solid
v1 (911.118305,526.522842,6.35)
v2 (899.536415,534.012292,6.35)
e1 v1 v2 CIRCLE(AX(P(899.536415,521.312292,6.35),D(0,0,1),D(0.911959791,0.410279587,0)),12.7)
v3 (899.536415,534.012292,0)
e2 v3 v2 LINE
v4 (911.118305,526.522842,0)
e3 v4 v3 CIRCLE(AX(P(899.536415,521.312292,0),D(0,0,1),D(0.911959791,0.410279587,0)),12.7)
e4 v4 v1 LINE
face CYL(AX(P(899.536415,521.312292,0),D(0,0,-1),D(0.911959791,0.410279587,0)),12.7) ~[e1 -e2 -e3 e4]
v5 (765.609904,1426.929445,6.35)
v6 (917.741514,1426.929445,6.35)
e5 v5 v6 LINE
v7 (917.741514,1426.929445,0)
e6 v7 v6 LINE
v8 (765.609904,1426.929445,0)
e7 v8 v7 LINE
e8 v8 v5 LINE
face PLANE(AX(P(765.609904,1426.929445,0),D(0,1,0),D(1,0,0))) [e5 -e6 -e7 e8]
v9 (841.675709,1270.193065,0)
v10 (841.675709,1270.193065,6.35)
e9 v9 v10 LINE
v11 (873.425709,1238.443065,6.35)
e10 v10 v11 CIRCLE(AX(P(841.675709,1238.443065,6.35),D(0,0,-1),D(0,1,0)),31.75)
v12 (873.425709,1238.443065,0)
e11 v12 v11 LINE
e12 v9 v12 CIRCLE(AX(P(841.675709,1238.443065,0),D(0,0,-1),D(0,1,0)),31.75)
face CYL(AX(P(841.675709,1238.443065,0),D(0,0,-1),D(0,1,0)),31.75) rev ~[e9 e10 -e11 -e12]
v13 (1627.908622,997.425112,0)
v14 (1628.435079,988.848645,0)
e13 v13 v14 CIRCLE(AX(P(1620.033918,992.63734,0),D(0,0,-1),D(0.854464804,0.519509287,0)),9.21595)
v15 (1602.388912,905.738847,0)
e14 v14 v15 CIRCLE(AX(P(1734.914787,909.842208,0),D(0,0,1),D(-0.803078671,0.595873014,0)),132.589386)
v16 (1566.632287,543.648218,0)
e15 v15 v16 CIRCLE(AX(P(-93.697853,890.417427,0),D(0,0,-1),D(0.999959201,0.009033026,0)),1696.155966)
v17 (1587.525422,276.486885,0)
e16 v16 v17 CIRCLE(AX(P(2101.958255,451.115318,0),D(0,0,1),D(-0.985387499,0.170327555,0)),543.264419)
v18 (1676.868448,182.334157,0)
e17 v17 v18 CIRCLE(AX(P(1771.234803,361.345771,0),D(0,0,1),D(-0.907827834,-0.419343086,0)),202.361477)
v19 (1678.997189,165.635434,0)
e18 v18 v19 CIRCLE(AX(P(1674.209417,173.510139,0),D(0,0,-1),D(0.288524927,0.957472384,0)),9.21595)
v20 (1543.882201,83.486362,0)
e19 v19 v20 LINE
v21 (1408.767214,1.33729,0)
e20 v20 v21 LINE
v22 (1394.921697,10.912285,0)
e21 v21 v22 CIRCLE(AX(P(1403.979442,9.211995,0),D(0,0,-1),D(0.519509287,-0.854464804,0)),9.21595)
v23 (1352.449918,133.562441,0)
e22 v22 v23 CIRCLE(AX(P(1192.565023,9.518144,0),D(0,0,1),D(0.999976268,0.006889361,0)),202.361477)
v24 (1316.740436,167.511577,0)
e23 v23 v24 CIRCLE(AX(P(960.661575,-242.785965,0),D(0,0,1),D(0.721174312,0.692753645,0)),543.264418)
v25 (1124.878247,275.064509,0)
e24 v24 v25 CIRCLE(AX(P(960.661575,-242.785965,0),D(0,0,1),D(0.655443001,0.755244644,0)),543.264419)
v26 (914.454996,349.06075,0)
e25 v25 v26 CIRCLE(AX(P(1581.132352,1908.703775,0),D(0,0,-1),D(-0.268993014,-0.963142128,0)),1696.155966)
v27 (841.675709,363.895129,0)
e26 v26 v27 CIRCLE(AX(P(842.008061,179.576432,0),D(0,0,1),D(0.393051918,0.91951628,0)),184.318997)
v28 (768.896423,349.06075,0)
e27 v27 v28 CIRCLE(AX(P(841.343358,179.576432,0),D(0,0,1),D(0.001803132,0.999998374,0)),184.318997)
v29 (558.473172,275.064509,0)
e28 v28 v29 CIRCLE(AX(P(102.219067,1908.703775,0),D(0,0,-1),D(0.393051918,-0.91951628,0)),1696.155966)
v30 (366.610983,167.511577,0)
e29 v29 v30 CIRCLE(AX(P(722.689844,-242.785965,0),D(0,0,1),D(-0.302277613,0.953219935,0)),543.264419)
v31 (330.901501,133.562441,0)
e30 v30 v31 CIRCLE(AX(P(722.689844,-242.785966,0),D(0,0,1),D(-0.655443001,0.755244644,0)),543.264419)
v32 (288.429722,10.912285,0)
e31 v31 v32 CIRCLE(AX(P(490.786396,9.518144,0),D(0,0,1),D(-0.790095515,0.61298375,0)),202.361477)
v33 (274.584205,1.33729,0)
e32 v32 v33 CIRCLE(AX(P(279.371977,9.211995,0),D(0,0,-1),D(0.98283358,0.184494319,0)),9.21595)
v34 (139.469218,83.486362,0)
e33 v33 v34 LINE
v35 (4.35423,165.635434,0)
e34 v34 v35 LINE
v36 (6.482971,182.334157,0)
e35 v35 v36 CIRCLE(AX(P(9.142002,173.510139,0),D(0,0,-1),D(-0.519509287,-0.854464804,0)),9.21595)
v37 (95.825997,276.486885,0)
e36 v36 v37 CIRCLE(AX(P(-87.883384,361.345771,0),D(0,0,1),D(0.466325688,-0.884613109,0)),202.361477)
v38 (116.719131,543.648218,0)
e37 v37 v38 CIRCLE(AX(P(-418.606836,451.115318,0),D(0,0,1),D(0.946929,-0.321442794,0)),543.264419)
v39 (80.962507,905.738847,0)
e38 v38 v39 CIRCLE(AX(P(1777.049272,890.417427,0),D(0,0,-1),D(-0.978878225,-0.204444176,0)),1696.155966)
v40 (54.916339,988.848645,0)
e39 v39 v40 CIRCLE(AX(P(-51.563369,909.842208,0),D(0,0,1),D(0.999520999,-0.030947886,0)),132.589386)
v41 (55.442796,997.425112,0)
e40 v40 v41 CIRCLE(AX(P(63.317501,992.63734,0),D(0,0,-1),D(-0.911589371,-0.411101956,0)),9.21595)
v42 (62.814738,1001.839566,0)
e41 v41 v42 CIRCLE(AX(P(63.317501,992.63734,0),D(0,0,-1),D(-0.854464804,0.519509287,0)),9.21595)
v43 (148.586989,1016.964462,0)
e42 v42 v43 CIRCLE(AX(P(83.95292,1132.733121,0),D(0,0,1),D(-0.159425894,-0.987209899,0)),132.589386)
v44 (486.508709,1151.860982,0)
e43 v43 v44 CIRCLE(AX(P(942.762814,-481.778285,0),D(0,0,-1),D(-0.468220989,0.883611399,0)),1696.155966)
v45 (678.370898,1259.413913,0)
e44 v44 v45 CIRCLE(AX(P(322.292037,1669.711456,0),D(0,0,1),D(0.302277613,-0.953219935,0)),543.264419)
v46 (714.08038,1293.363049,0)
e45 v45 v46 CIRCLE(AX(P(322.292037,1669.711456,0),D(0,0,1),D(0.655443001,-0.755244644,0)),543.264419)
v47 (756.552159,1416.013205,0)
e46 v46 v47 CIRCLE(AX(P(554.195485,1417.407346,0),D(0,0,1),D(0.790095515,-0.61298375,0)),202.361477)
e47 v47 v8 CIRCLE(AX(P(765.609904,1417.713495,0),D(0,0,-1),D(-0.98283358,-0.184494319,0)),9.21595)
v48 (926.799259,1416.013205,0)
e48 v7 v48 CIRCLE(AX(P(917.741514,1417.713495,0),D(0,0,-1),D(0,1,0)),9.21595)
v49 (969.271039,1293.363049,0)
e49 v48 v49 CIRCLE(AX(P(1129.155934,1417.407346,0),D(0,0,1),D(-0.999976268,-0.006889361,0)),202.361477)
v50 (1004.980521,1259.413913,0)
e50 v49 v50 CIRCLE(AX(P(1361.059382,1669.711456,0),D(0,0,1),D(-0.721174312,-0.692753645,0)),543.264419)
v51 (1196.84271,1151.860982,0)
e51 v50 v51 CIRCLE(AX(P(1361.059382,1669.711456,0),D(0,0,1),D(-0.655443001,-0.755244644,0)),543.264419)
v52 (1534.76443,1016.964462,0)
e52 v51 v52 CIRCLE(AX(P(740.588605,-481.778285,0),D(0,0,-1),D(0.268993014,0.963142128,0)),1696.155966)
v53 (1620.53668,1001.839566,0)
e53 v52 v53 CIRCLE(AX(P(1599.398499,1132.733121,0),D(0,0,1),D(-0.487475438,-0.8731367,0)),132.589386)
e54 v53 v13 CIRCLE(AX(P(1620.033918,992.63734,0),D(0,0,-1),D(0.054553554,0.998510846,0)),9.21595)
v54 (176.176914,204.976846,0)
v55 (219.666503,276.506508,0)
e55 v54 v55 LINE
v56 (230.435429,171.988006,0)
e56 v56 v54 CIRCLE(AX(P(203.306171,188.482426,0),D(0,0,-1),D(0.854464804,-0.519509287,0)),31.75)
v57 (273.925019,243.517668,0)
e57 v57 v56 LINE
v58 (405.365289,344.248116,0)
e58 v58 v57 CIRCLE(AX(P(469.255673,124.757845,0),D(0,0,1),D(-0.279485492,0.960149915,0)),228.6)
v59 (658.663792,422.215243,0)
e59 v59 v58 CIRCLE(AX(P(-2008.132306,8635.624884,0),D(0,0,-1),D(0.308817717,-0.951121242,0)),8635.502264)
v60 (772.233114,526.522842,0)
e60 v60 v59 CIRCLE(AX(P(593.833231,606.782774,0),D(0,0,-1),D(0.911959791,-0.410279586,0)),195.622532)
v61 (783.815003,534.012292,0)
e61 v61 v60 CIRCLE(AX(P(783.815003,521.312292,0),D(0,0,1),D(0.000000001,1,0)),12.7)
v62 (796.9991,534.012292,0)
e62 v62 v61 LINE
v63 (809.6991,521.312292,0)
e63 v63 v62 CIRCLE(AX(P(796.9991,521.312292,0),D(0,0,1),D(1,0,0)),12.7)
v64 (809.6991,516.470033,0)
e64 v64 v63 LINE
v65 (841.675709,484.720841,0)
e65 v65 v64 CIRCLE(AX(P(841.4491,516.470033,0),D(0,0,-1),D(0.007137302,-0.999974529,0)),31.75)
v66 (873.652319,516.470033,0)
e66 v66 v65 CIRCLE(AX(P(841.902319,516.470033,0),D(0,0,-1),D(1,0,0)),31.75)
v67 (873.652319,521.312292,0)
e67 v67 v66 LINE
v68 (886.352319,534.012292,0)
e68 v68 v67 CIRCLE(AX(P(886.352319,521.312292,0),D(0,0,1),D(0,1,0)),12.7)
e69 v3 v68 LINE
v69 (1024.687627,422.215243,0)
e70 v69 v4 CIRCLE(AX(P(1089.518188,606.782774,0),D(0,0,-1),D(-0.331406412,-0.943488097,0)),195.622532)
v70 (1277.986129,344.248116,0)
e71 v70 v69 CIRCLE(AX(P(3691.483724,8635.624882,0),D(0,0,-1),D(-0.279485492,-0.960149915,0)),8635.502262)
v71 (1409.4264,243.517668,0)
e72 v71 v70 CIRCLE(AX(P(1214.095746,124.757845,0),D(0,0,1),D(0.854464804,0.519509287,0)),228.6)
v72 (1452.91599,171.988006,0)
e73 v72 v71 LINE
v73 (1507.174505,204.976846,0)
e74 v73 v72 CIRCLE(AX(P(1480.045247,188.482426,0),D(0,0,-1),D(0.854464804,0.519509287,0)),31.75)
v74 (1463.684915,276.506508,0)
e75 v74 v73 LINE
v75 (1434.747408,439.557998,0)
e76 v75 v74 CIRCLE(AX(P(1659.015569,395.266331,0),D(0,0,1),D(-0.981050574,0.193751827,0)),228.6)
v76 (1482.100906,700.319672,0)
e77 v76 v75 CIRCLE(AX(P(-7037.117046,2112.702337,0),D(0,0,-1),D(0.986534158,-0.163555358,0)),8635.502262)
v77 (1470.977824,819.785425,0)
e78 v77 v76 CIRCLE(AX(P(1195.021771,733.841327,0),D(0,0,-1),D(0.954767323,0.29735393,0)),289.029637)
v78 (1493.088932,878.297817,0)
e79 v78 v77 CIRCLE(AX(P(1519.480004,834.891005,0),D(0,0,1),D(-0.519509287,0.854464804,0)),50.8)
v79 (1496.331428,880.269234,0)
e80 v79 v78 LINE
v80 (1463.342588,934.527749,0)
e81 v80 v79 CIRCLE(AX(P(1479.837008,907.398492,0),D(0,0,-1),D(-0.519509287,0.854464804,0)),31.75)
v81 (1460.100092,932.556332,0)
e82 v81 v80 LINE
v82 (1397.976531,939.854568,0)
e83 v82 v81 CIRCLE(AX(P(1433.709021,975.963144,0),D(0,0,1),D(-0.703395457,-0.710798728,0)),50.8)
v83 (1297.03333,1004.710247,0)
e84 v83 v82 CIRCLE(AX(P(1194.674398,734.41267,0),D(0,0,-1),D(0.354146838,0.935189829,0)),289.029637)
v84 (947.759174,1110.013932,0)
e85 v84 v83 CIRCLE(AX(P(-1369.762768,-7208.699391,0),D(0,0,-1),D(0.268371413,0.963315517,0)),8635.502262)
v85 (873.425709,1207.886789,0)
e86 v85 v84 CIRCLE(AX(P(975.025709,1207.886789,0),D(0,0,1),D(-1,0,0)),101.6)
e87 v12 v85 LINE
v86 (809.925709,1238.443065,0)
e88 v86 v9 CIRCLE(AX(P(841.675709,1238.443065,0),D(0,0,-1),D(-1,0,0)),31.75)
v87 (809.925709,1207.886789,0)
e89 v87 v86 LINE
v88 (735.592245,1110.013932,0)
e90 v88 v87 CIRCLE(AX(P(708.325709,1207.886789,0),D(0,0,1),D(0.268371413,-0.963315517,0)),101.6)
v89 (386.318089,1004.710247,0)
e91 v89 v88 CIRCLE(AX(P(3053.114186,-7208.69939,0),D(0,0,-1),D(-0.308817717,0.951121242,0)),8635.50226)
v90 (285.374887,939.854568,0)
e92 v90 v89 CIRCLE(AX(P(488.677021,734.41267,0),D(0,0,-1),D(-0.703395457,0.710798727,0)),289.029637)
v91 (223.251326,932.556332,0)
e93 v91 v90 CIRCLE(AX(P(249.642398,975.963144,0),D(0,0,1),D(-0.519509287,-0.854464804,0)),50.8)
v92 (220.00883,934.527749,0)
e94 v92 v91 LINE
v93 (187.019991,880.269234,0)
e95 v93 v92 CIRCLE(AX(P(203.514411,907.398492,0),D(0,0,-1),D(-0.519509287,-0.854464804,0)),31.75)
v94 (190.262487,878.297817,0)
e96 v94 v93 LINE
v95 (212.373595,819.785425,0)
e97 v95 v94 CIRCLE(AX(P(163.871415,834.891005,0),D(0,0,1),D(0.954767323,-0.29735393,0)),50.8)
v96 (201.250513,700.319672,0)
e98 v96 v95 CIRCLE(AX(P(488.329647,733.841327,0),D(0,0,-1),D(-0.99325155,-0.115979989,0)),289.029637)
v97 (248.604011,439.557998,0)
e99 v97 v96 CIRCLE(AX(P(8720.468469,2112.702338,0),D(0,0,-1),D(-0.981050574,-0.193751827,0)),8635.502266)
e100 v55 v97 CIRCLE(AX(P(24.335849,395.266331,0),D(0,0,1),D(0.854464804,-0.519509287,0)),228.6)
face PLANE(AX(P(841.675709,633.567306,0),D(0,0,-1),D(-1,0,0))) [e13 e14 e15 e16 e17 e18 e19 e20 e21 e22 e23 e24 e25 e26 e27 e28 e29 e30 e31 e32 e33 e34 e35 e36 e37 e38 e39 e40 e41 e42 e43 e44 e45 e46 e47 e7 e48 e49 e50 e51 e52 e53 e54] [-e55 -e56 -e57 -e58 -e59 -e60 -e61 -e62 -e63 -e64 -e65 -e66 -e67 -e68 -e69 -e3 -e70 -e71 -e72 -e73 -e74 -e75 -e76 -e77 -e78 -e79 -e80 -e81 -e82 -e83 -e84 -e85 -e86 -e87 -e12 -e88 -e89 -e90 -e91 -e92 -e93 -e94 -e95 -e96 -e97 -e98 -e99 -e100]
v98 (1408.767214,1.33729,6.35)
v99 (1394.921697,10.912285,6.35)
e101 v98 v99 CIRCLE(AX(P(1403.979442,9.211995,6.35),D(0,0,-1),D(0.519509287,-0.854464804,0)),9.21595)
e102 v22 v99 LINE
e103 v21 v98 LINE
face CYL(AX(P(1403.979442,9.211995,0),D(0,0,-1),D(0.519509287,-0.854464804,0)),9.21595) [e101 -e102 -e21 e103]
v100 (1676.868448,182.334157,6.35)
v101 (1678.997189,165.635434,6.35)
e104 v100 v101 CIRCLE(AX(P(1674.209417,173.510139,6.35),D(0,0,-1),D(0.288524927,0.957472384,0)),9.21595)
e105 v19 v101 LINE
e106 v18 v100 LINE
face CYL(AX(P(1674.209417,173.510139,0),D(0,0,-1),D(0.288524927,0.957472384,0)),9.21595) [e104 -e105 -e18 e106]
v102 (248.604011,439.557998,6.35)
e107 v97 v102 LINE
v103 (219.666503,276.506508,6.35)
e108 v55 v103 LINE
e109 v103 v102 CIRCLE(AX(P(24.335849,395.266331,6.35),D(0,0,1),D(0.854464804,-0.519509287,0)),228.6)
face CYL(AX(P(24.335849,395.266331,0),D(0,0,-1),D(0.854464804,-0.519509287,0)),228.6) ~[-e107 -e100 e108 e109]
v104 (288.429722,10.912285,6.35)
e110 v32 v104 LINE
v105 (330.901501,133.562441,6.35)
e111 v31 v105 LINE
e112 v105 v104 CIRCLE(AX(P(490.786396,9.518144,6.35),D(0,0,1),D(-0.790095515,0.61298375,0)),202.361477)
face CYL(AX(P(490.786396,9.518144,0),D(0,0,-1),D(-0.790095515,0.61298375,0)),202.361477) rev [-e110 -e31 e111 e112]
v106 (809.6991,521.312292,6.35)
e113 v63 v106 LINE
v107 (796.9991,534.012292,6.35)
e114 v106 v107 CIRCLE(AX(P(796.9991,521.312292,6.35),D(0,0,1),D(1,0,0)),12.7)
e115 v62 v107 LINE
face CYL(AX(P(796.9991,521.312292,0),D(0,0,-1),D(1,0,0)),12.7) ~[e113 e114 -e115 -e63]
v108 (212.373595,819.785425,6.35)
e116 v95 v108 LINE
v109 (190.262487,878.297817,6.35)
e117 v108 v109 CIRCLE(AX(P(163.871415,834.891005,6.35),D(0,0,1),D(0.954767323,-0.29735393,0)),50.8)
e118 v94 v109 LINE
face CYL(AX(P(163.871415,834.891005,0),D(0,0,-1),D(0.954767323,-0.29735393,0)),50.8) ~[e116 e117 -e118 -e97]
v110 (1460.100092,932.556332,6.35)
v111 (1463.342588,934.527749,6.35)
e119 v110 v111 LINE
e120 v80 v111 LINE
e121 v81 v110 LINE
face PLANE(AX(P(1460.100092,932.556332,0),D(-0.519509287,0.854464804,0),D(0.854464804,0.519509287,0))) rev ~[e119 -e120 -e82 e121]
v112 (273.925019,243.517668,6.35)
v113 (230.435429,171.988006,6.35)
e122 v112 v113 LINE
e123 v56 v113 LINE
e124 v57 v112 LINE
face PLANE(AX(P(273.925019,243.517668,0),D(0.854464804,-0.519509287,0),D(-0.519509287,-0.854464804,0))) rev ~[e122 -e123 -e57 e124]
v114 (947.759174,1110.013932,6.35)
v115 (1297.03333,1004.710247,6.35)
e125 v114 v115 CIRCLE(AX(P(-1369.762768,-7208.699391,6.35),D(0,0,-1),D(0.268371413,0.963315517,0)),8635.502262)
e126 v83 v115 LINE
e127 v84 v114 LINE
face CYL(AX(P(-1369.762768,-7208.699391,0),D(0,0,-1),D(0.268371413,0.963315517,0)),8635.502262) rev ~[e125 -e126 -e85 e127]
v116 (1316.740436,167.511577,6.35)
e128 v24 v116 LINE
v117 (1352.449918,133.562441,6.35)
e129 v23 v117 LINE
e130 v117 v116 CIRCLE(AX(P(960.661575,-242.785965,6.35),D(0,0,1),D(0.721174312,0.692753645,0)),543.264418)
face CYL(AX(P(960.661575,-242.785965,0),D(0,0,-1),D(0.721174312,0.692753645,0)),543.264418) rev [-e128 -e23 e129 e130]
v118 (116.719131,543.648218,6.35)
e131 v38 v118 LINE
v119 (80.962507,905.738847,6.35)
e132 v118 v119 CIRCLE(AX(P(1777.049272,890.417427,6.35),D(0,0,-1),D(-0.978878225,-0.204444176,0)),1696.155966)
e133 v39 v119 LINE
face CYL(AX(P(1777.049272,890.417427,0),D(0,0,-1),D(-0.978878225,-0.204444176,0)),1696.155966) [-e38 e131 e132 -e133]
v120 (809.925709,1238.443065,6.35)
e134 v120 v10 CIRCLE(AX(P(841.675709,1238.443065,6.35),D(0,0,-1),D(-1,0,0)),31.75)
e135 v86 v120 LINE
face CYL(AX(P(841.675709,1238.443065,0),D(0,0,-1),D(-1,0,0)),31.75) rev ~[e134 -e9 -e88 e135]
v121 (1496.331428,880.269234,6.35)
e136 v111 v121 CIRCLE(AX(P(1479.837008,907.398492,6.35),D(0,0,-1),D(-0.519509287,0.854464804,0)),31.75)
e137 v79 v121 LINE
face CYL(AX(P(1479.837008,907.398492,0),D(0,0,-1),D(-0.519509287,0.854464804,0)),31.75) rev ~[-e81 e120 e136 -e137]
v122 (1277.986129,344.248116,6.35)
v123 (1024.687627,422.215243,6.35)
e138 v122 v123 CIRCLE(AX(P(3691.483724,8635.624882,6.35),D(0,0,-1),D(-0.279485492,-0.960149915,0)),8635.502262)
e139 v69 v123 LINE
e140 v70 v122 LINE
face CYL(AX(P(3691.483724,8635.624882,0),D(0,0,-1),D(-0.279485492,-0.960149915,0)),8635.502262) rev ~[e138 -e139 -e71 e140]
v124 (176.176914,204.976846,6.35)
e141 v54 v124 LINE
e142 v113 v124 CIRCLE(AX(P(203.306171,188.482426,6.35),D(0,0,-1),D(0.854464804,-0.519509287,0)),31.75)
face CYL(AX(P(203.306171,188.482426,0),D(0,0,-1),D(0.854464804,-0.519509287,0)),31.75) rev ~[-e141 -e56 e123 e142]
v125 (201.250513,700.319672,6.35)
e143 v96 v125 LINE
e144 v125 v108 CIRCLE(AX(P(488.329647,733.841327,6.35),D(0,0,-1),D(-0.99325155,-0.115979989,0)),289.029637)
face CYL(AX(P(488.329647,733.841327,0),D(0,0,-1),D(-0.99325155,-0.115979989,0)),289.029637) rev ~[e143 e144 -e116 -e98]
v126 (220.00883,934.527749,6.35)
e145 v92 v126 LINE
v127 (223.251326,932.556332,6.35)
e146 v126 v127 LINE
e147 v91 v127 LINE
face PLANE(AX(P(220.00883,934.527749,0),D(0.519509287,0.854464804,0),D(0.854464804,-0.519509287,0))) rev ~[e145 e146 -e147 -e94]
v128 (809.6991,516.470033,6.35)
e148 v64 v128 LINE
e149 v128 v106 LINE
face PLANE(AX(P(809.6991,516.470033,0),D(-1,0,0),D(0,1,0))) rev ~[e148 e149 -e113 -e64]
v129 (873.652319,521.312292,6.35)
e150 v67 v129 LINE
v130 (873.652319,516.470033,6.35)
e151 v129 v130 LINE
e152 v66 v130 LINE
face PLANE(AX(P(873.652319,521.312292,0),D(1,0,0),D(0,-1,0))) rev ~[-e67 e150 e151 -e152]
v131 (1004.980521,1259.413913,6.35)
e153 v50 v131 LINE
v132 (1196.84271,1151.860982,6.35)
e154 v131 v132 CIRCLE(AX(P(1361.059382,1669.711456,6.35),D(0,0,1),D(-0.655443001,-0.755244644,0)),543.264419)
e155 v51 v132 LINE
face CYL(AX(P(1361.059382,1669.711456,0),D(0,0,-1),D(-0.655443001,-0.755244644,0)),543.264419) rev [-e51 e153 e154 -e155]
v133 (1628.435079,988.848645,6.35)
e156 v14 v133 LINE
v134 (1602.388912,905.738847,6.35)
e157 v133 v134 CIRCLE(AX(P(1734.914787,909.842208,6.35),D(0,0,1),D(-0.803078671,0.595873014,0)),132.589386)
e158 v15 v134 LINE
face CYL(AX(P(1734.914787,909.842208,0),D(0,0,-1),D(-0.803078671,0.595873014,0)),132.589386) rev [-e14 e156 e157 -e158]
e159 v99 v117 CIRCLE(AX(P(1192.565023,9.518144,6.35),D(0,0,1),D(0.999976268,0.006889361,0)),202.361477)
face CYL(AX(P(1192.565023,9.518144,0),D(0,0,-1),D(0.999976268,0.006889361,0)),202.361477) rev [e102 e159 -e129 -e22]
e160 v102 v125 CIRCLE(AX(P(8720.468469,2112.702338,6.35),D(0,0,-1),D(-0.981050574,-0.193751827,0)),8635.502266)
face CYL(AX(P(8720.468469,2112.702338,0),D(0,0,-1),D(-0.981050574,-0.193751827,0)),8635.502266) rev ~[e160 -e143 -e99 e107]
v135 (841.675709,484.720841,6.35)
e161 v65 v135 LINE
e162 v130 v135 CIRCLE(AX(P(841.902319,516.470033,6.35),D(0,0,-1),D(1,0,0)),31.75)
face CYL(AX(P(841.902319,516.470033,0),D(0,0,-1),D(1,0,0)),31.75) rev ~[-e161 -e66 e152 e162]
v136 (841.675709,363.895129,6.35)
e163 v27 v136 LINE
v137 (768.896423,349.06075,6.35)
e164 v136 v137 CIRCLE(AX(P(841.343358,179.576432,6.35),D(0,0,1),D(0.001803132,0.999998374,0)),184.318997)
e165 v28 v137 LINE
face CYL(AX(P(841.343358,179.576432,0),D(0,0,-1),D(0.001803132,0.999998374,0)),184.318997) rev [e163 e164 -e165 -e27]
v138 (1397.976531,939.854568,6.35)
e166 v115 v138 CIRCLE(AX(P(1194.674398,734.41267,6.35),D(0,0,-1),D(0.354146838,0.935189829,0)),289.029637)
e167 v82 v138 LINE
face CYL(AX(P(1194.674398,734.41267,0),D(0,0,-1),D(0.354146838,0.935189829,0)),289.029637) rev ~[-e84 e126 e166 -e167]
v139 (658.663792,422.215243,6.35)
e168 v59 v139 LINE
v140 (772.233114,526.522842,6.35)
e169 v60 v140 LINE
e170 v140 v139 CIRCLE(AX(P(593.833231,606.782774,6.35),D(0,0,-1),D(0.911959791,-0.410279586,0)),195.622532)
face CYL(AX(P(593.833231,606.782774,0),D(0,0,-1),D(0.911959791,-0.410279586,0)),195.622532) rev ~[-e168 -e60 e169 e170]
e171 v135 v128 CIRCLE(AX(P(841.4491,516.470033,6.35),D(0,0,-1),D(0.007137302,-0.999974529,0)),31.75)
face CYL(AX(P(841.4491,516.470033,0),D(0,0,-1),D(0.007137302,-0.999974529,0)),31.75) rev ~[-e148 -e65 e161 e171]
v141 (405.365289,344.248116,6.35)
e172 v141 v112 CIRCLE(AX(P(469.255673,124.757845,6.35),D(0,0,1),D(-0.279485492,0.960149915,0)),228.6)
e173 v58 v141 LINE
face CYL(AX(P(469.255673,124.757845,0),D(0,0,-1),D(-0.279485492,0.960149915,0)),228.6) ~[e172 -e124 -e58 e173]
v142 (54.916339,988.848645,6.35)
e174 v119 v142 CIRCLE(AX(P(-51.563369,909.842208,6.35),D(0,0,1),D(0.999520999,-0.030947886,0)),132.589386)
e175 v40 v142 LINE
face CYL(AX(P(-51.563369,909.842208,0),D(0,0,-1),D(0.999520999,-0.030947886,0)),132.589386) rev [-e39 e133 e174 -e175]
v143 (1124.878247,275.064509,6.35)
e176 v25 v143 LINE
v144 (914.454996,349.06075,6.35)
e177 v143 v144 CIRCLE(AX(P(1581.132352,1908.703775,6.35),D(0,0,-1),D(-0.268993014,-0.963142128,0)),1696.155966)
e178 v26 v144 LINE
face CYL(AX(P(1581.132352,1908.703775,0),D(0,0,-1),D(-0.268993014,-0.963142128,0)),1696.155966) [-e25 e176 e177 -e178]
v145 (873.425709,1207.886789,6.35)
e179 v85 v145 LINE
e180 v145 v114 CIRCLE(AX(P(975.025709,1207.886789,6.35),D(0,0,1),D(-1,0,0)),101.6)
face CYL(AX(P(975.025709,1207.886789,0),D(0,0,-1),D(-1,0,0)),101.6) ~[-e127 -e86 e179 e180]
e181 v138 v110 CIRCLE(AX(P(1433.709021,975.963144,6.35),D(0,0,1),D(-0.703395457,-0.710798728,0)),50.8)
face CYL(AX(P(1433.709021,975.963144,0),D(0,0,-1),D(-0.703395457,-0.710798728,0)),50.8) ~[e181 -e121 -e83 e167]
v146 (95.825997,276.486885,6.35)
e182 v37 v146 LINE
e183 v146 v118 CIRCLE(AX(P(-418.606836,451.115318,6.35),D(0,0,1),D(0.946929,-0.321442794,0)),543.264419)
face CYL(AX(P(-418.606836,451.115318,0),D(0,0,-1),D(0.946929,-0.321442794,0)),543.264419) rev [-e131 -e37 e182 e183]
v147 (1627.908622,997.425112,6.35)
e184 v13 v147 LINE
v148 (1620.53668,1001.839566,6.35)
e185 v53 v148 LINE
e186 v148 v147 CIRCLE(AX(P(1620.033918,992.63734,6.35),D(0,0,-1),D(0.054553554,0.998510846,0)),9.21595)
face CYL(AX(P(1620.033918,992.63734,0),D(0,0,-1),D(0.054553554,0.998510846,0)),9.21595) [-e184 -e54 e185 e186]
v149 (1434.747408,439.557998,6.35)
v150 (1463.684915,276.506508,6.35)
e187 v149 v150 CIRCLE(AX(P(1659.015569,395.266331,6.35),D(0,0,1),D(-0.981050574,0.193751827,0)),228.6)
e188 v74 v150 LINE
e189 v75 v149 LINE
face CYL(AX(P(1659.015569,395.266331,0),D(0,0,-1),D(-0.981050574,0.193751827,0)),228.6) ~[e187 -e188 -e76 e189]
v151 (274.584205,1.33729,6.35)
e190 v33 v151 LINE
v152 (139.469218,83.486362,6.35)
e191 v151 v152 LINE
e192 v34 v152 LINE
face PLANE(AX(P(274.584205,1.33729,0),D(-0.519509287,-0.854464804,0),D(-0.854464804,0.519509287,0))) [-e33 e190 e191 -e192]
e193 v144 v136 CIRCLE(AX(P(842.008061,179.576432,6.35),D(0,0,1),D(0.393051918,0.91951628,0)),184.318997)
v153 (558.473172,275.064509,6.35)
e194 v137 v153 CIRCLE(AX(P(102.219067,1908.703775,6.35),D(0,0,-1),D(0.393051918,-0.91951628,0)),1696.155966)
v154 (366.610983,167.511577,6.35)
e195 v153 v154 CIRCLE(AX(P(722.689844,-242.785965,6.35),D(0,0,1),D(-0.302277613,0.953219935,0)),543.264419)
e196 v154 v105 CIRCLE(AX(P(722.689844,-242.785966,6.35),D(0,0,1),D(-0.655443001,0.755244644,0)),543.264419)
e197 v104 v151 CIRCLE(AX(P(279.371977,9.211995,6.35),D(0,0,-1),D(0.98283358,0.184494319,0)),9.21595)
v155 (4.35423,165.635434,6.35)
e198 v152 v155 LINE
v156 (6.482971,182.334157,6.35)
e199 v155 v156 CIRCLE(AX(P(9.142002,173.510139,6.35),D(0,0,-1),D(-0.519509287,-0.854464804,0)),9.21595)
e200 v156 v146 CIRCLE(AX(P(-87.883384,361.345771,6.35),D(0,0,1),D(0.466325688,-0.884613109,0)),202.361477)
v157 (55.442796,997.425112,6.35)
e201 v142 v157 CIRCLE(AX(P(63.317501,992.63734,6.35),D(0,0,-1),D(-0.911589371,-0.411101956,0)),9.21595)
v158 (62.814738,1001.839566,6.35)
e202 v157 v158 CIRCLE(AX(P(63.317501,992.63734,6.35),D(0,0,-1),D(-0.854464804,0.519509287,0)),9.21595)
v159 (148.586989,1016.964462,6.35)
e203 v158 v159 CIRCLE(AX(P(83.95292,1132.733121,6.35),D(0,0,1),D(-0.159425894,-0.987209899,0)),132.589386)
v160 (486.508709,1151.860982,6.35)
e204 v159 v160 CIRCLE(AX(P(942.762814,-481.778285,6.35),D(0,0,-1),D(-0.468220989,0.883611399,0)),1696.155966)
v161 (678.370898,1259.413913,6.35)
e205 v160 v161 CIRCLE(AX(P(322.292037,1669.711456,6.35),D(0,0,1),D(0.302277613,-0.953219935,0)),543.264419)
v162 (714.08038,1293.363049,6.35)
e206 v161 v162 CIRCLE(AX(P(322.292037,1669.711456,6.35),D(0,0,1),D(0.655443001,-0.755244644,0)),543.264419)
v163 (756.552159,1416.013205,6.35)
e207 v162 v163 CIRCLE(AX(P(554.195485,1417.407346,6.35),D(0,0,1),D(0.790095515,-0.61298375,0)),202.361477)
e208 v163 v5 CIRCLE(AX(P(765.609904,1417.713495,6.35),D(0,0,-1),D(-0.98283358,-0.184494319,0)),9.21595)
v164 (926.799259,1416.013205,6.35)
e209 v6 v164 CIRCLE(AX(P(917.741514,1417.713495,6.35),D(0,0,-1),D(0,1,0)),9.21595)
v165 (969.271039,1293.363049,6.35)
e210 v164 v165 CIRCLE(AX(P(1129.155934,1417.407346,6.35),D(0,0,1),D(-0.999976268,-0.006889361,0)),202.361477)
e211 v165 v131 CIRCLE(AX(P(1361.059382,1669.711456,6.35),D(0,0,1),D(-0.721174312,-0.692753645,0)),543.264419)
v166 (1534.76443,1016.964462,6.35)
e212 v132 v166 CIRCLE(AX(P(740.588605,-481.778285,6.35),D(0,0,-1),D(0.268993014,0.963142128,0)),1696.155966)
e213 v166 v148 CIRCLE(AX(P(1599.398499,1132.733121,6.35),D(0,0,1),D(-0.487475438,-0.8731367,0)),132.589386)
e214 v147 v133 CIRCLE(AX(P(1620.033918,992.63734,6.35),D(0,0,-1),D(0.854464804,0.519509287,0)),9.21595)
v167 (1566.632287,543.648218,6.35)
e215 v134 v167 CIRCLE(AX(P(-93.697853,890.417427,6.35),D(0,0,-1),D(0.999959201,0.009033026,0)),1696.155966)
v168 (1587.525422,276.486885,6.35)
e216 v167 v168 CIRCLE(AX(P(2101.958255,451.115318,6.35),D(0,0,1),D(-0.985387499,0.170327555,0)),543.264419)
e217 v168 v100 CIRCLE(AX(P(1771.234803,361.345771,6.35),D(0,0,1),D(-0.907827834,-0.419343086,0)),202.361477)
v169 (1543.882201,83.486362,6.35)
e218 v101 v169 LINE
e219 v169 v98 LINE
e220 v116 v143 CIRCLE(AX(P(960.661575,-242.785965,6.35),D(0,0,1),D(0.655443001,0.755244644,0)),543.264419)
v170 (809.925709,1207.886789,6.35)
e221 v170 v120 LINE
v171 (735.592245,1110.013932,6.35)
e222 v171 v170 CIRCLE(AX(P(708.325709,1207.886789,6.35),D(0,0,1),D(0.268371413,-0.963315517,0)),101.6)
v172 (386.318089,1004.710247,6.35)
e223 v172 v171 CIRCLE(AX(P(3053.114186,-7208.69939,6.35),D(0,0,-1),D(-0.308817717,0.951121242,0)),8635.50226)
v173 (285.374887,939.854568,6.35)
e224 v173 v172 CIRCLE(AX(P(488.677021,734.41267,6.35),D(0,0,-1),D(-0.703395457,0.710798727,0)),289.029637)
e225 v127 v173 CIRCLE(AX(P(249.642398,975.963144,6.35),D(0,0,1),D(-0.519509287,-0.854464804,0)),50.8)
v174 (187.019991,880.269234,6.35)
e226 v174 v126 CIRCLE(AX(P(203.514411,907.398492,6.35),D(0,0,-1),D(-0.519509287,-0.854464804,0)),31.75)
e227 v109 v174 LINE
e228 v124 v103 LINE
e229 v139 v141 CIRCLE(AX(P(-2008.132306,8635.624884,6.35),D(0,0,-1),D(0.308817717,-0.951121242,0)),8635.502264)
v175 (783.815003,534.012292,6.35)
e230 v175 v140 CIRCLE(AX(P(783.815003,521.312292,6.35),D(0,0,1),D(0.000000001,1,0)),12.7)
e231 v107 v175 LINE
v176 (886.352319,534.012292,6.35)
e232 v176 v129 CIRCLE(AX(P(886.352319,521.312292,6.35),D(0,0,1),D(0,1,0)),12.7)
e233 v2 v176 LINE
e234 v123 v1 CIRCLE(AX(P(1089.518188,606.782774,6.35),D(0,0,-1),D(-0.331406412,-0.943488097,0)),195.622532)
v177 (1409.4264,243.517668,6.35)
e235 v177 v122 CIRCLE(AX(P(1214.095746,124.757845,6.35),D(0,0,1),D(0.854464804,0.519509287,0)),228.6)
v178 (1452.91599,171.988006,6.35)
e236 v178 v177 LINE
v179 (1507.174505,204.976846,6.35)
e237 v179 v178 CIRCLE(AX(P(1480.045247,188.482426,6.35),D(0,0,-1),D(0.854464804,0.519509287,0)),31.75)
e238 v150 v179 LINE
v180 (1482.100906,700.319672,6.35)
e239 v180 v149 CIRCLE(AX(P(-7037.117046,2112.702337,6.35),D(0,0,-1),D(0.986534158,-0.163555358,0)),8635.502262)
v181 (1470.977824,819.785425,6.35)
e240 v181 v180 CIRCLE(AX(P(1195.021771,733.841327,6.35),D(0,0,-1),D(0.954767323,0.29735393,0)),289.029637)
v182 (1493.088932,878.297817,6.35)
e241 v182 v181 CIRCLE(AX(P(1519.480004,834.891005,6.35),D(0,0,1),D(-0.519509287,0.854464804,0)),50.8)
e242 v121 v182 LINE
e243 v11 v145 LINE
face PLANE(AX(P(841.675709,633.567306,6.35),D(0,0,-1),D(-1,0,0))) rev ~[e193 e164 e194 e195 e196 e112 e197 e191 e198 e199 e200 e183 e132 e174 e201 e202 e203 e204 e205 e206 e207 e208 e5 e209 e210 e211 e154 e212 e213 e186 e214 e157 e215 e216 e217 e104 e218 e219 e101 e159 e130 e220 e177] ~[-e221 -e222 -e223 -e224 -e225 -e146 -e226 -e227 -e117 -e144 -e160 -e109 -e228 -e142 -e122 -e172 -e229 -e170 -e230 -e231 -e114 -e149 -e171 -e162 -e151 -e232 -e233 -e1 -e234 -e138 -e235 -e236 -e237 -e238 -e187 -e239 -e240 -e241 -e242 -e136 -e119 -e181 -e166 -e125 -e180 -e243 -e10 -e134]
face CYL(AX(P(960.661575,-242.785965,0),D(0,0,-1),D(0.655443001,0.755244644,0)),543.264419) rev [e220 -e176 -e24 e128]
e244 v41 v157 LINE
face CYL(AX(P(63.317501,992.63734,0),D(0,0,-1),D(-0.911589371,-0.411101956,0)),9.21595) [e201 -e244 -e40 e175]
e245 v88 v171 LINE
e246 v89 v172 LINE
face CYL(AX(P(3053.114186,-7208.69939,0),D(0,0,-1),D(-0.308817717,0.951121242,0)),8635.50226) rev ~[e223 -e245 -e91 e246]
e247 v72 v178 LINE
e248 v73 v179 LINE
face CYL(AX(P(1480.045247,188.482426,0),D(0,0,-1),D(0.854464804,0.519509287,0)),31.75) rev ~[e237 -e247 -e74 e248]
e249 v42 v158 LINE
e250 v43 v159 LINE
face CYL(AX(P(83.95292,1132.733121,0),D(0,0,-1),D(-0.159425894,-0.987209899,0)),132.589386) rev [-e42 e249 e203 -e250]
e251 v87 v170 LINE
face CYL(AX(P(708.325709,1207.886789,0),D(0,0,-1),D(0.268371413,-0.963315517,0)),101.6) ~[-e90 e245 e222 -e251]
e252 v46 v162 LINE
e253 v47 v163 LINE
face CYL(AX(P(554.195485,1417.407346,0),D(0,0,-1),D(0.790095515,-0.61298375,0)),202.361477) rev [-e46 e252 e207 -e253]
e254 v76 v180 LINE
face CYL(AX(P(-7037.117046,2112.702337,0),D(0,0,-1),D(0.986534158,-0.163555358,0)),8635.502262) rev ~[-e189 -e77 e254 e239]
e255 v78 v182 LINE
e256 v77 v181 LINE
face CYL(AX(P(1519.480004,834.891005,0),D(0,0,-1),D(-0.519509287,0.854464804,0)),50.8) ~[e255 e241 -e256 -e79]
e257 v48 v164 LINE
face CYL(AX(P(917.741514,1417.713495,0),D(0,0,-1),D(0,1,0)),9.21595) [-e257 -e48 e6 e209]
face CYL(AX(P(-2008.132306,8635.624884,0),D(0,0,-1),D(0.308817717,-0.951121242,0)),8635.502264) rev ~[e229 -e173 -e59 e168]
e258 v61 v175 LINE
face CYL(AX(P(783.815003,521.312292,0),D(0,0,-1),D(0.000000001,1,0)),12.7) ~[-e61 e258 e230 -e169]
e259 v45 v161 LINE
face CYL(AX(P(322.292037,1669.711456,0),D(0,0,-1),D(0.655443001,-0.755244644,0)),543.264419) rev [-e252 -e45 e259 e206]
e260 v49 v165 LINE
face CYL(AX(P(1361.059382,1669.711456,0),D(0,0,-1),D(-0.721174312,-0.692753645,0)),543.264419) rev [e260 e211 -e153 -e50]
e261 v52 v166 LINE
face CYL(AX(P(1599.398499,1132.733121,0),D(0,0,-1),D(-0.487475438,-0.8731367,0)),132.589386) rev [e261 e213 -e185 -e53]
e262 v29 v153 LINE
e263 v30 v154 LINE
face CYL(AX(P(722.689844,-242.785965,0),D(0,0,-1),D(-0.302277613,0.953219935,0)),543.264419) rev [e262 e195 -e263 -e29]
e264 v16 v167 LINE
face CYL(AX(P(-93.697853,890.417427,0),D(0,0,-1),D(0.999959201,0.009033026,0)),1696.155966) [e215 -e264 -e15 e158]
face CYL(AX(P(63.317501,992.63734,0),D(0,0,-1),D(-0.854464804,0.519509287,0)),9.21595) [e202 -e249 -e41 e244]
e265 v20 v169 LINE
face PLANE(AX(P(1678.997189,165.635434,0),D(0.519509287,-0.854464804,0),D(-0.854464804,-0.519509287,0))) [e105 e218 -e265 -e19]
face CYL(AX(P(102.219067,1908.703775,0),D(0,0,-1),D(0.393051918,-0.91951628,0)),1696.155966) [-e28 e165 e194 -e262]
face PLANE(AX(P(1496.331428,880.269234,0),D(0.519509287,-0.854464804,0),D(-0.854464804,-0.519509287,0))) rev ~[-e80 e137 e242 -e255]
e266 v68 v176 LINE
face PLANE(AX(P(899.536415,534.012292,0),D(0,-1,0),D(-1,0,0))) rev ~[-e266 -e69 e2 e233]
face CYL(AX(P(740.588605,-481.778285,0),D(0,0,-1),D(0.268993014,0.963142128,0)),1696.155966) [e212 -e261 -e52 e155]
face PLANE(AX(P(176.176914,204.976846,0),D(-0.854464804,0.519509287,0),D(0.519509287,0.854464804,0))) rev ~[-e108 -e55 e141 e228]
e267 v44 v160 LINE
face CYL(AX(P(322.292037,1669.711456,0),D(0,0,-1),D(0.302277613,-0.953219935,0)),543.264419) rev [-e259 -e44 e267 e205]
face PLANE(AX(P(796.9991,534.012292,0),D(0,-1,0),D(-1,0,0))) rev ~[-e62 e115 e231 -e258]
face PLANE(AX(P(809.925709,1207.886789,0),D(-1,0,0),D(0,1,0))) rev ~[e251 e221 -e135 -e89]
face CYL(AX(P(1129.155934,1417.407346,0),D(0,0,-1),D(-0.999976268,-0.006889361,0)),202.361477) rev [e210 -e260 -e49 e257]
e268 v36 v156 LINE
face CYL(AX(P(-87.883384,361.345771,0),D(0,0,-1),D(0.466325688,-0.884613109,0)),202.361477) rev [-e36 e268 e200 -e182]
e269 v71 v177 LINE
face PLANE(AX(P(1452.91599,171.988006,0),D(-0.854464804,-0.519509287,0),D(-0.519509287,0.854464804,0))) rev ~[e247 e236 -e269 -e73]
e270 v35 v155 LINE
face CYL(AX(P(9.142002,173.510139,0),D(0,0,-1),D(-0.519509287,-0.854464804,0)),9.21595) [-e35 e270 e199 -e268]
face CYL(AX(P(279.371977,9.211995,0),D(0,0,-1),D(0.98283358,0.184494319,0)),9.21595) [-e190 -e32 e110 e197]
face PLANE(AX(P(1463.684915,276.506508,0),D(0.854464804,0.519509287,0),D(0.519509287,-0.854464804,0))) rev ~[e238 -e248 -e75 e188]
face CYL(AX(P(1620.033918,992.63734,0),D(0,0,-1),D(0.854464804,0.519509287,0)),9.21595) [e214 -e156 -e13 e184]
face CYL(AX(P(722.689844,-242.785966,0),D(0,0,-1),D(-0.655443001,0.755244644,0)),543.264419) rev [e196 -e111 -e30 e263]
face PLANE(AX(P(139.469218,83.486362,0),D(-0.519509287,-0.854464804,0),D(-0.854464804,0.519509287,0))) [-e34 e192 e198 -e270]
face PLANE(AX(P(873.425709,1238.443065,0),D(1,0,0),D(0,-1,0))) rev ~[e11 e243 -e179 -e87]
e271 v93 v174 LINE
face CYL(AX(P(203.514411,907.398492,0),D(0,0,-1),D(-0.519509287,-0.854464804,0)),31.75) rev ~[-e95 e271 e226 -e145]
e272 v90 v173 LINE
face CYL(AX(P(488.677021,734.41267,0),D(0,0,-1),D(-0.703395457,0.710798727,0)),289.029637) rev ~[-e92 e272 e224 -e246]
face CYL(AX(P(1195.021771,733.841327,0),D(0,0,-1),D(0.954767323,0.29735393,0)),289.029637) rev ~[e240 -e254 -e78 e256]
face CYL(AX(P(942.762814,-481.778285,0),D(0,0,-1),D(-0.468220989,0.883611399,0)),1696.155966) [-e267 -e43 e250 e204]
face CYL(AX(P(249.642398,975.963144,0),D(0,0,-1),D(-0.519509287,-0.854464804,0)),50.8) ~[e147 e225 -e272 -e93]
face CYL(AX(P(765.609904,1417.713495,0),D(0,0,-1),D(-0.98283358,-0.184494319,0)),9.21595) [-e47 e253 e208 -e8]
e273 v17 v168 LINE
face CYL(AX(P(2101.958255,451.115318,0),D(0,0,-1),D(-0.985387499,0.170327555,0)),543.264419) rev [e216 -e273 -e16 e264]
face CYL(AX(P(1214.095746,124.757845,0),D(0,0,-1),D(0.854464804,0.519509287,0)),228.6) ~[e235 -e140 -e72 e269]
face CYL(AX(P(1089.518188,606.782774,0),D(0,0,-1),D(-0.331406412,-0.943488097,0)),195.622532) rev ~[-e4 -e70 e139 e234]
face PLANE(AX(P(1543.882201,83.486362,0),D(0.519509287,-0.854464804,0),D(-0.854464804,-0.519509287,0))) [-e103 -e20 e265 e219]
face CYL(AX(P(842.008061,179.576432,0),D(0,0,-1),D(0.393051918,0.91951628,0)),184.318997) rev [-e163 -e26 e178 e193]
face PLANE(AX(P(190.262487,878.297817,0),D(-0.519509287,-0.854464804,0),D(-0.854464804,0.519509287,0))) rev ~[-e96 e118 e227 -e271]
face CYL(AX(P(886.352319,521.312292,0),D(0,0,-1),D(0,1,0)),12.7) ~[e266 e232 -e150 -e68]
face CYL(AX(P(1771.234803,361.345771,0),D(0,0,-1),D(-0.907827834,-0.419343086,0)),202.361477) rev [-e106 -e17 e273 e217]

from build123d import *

# Parameters (mm, degrees)
BOSS_EXTRUDE1_DEPTH = 6.35


with BuildPart() as part:
    # Model → Boss-Extrude1 (new body)
    with BuildSketch(Plane.XY):
        with BuildLine():
            Line((4.35423024, 165.635434247), (139.469217612, 83.486362243))
            Line((139.469217612, 83.486362243), (274.584204983, 1.33729024))
            ThreePointArc((274.584204983, 1.33729024), (284.613951479, 1.632058994), (288.42972151, 10.912285417))
            ThreePointArc((288.42972151, 10.912285417), (299.56530956, 75.734935389), (330.90150065, 133.562440942))
            ThreePointArc((330.90150065, 133.562440942), (348.371163031, 150.942054961), (366.610982668, 167.511577185))
            ThreePointArc((366.610982668, 167.511577185), (457.042015558, 231.099527282), (558.47317207, 275.064508752))
            ThreePointArc((558.47317207, 275.064508752), (664.902483594, 308.599892952), (768.896422643, 349.060750407))
            ThreePointArc((768.896422643, 349.060750407), (804.531090958, 360.181940267), (841.675709373, 363.895129261))
            ThreePointArc((841.675709373, 363.895129261), (878.82032779, 360.181940267), (914.454996104, 349.060750407))
            ThreePointArc((914.454996104, 349.060750407), (1018.448935155, 308.599892952), (1124.878246681, 275.064508752))
            ThreePointArc((1124.878246681, 275.064508752), (1226.309403191, 231.099527281), (1316.740436079, 167.511577185))
            ThreePointArc((1316.740436079, 167.511577185), (1334.980255717, 150.942054961), (1352.449918097, 133.562440942))
            ThreePointArc((1352.449918097, 133.562440942), (1383.786109187, 75.734935389), (1394.921697237, 10.912285417))
            ThreePointArc((1394.921697237, 10.912285417), (1398.737467268, 1.632058994), (1408.767213764, 1.33729024))
            Line((1408.767213764, 1.33729024), (1543.882201136, 83.486362243))
            Line((1543.882201136, 83.486362243), (1678.997188507, 165.635434247))
            ThreePointArc((1678.997188507, 165.635434247), (1683.351383353, 174.675549878), (1676.868448231, 182.334156514))
            ThreePointArc((1676.868448231, 182.334156514), (1624.443410929, 222.053078132), (1587.525422045, 276.486885341))
            ThreePointArc((1587.525422045, 276.486885341), (1560.34752833, 408.759091988), (1566.632287475, 543.648218164))
            ThreePointArc((1566.632287475, 543.648218164), (1594.247944771, 723.73196509), (1602.388911699, 905.738847083))
            ThreePointArc((1602.388911699, 905.738847083), (1608.393141444, 949.493417753), (1628.435079487, 988.848645472))
            ThreePointArc((1628.435079487, 988.848645472), (1629.232553539, 993.201988834), (1627.90862234, 997.425112023))
            ThreePointArc((1627.90862234, 997.425112023), (1624.76861318, 1000.544071106), (1620.536680372, 1001.839566375))
            ThreePointArc((1620.536680372, 1001.839566375), (1576.373215463, 1002.15830841), (1534.76442971, 1016.964461776))
            ThreePointArc((1534.76442971, 1016.964461776), (1369.431208537, 1093.500116289), (1196.84270997, 1151.860981578))
            ThreePointArc((1196.84270997, 1151.860981578), (1095.411553456, 1195.825963048), (1004.980520565, 1259.413913146))
            ThreePointArc((1004.980520565, 1259.413913146), (986.740700928, 1275.98343537), (969.271038547, 1293.363049389))
            ThreePointArc((969.271038547, 1293.363049389), (937.934847458, 1351.190554942), (926.799259407, 1416.013204913))
            ThreePointArc((926.799259407, 1416.013204913), (924.83388788, 1423.598388709), (917.741514416, 1426.92944516))
            Line((917.741514416, 1426.92944516), (841.675709374, 1426.92944516))
            Line((841.675709374, 1426.92944516), (765.609904332, 1426.92944516))
            ThreePointArc((765.609904332, 1426.92944516), (758.517530867, 1423.598388709), (756.55215934, 1416.013204913))
            ThreePointArc((756.55215934, 1416.013204913), (745.41657129, 1351.190554942), (714.0803802, 1293.363049389))
            ThreePointArc((714.0803802, 1293.363049389), (696.610717819, 1275.98343537), (678.370898182, 1259.413913146))
            ThreePointArc((678.370898182, 1259.413913146), (587.939865291, 1195.825963048), (486.508708777, 1151.860981578))
            ThreePointArc((486.508708777, 1151.860981578), (313.920210211, 1093.500116289), (148.58698904, 1016.964461777))
            ThreePointArc((148.58698904, 1016.964461777), (106.978203286, 1002.158308411), (62.814738375, 1001.839566375))
            ThreePointArc((62.814738375, 1001.839566375), (58.582805567, 1000.544071106), (55.442796407, 997.425112023))
            ThreePointArc((55.442796407, 997.425112023), (54.118865208, 993.201988834), (54.91633926, 988.848645472))
            ThreePointArc((54.91633926, 988.848645472), (74.958277304, 949.493417753), (80.962507049, 905.738847083))
            ThreePointArc((80.962507049, 905.738847083), (89.103473976, 723.73196509), (116.719131272, 543.648218164))
            ThreePointArc((116.719131272, 543.648218164), (123.003890417, 408.759091988), (95.825996702, 276.486885341))
            ThreePointArc((95.825996702, 276.486885341), (58.908007818, 222.053078132), (6.482970516, 182.334156514))
            ThreePointArc((6.482970516, 182.334156514), (3.5394e-05, 174.675549878), (4.35423024, 165.635434247))
        make_face()
        with BuildLine():
            ThreePointArc((230.435428938, 171.988006214), (186.811751564, 161.353168539), (176.176913889, 204.976845914))
            Line((176.176913889, 204.976845914), (219.666503461, 276.506507813))
            ThreePointArc((219.666503461, 276.506507813), (249.41858659, 355.319849433), (248.604010602, 439.557998355))
            ThreePointArc((248.604010602, 439.557998355), (223.92684494, 569.757162888), (201.250512588, 700.319672443))
            ThreePointArc((201.250512588, 700.319672443), (200.544706813, 760.636081732), (212.373594943, 819.785424898))
            ThreePointArc((212.373594943, 819.785424898), (211.391671526, 852.848321029), (190.262486725, 878.297816581))
            Line((190.262486725, 878.297816581), (187.019990651, 880.269234028))
            ThreePointArc((187.019990651, 880.269234028), (176.385152977, 923.892911403), (220.008830352, 934.527749077))
            Line((220.008830352, 934.527749077), (223.251326425, 932.55633163))
            ThreePointArc((223.251326425, 932.55633163), (255.569588474, 925.510111894), (285.374887402, 939.854568323))
            ThreePointArc((285.374887402, 939.854568323), (332.444064978, 977.578034675), (386.318088828, 1004.710247))
            ThreePointArc((386.318088828, 1004.710247), (560.399041188, 1059.206662677), (735.592244912, 1110.013932483))
            ThreePointArc((735.592244912, 1110.013932483), (789.235659351, 1146.436483903), (809.925709373, 1207.886788985))
            Line((809.925709373, 1207.886788985), (809.925709373, 1238.443064765))
            ThreePointArc((809.925709373, 1238.443064765), (819.225069071, 1260.893705067), (841.675709374, 1270.193064765))
            ThreePointArc((841.675709374, 1270.193064765), (864.126349676, 1260.893705067), (873.425709374, 1238.443064765))
            Line((873.425709374, 1238.443064765), (873.425709374, 1207.886788985))
            ThreePointArc((873.425709374, 1207.886788985), (894.115759397, 1146.436483903), (947.759173836, 1110.013932483))
            ThreePointArc((947.759173836, 1110.013932483), (1122.952377559, 1059.206662677), (1297.03332992, 1004.710247))
            ThreePointArc((1297.03332992, 1004.710247), (1350.907353769, 977.578034675), (1397.976531346, 939.854568323))
            ThreePointArc((1397.976531346, 939.854568323), (1427.781830274, 925.510111903), (1460.100092322, 932.55633163))
            Line((1460.100092322, 932.55633163), (1463.342588395, 934.527749077))
            ThreePointArc((1463.342588395, 934.527749077), (1506.96626577, 923.892911403), (1496.331428096, 880.269234028))
            Line((1496.331428096, 880.269234028), (1493.088932022, 878.297816581))
            ThreePointArc((1493.088932022, 878.297816581), (1471.959747212, 852.848321033), (1470.977823804, 819.785424898))
            ThreePointArc((1470.977823804, 819.785424898), (1482.806711935, 760.636081732), (1482.100906159, 700.319672443))
            ThreePointArc((1482.100906159, 700.319672443), (1459.424573808, 569.757162888), (1434.747408146, 439.557998355))
            ThreePointArc((1434.747408146, 439.557998355), (1433.932832157, 355.319849433), (1463.684915286, 276.506507814))
            Line((1463.684915286, 276.506507814), (1507.174504858, 204.976845914))
            ThreePointArc((1507.174504858, 204.976845914), (1496.539667184, 161.353168539), (1452.915989809, 171.988006214))
            Line((1452.915989809, 171.988006214), (1409.426400237, 243.517668114))
            ThreePointArc((1409.426400237, 243.517668114), (1353.148046842, 306.20320239), (1277.986129436, 344.248115849))
            ThreePointArc((1277.986129436, 344.248115849), (1151.037755853, 382.25989552), (1024.687626725, 422.215243331))
            ThreePointArc((1024.687626725, 422.215243331), (957.191769225, 462.706773525), (911.118304628, 526.522842482))
            ThreePointArc((911.118304628, 526.522842482), (906.432646334, 531.976812224), (899.536415282, 534.012291743))
            Line((899.536415282, 534.012291743), (886.352318699, 534.012291743))
            ThreePointArc((886.352318699, 534.012291743), (877.372062578, 530.292547864), (873.652318699, 521.312291743))
            Line((873.652318699, 521.312291743), (873.652318699, 516.47003269))
            ThreePointArc((873.652318699, 516.47003269), (864.272697037, 493.939416342), (841.675709374, 484.72084139))
            ThreePointArc((841.675709374, 484.72084139), (819.078721711, 493.939416342), (809.699100048, 516.47003269))
            Line((809.699100048, 516.47003269), (809.699100048, 521.312291743))
            ThreePointArc((809.699100048, 521.312291743), (805.979356169, 530.292547864), (796.999100048, 534.012291743))
            Line((796.999100048, 534.012291743), (783.815003465, 534.012291743))
            ThreePointArc((783.815003465, 534.012291743), (776.918772409, 531.97681223), (772.23311412, 526.522842482))
            ThreePointArc((772.23311412, 526.522842482), (726.159649523, 462.706773525), (658.663792022, 422.215243331))
            ThreePointArc((658.663792022, 422.215243331), (532.313662894, 382.25989552), (405.365289309, 344.248115848))
            ThreePointArc((405.365289309, 344.248115848), (330.203371904, 306.203202389), (273.92501851, 243.517668114))
            Line((273.92501851, 243.517668114), (230.435428938, 171.988006214))
        make_face(mode=Mode.SUBTRACT)
    extrude(amount=BOSS_EXTRUDE1_DEPTH)


solid = part.part
